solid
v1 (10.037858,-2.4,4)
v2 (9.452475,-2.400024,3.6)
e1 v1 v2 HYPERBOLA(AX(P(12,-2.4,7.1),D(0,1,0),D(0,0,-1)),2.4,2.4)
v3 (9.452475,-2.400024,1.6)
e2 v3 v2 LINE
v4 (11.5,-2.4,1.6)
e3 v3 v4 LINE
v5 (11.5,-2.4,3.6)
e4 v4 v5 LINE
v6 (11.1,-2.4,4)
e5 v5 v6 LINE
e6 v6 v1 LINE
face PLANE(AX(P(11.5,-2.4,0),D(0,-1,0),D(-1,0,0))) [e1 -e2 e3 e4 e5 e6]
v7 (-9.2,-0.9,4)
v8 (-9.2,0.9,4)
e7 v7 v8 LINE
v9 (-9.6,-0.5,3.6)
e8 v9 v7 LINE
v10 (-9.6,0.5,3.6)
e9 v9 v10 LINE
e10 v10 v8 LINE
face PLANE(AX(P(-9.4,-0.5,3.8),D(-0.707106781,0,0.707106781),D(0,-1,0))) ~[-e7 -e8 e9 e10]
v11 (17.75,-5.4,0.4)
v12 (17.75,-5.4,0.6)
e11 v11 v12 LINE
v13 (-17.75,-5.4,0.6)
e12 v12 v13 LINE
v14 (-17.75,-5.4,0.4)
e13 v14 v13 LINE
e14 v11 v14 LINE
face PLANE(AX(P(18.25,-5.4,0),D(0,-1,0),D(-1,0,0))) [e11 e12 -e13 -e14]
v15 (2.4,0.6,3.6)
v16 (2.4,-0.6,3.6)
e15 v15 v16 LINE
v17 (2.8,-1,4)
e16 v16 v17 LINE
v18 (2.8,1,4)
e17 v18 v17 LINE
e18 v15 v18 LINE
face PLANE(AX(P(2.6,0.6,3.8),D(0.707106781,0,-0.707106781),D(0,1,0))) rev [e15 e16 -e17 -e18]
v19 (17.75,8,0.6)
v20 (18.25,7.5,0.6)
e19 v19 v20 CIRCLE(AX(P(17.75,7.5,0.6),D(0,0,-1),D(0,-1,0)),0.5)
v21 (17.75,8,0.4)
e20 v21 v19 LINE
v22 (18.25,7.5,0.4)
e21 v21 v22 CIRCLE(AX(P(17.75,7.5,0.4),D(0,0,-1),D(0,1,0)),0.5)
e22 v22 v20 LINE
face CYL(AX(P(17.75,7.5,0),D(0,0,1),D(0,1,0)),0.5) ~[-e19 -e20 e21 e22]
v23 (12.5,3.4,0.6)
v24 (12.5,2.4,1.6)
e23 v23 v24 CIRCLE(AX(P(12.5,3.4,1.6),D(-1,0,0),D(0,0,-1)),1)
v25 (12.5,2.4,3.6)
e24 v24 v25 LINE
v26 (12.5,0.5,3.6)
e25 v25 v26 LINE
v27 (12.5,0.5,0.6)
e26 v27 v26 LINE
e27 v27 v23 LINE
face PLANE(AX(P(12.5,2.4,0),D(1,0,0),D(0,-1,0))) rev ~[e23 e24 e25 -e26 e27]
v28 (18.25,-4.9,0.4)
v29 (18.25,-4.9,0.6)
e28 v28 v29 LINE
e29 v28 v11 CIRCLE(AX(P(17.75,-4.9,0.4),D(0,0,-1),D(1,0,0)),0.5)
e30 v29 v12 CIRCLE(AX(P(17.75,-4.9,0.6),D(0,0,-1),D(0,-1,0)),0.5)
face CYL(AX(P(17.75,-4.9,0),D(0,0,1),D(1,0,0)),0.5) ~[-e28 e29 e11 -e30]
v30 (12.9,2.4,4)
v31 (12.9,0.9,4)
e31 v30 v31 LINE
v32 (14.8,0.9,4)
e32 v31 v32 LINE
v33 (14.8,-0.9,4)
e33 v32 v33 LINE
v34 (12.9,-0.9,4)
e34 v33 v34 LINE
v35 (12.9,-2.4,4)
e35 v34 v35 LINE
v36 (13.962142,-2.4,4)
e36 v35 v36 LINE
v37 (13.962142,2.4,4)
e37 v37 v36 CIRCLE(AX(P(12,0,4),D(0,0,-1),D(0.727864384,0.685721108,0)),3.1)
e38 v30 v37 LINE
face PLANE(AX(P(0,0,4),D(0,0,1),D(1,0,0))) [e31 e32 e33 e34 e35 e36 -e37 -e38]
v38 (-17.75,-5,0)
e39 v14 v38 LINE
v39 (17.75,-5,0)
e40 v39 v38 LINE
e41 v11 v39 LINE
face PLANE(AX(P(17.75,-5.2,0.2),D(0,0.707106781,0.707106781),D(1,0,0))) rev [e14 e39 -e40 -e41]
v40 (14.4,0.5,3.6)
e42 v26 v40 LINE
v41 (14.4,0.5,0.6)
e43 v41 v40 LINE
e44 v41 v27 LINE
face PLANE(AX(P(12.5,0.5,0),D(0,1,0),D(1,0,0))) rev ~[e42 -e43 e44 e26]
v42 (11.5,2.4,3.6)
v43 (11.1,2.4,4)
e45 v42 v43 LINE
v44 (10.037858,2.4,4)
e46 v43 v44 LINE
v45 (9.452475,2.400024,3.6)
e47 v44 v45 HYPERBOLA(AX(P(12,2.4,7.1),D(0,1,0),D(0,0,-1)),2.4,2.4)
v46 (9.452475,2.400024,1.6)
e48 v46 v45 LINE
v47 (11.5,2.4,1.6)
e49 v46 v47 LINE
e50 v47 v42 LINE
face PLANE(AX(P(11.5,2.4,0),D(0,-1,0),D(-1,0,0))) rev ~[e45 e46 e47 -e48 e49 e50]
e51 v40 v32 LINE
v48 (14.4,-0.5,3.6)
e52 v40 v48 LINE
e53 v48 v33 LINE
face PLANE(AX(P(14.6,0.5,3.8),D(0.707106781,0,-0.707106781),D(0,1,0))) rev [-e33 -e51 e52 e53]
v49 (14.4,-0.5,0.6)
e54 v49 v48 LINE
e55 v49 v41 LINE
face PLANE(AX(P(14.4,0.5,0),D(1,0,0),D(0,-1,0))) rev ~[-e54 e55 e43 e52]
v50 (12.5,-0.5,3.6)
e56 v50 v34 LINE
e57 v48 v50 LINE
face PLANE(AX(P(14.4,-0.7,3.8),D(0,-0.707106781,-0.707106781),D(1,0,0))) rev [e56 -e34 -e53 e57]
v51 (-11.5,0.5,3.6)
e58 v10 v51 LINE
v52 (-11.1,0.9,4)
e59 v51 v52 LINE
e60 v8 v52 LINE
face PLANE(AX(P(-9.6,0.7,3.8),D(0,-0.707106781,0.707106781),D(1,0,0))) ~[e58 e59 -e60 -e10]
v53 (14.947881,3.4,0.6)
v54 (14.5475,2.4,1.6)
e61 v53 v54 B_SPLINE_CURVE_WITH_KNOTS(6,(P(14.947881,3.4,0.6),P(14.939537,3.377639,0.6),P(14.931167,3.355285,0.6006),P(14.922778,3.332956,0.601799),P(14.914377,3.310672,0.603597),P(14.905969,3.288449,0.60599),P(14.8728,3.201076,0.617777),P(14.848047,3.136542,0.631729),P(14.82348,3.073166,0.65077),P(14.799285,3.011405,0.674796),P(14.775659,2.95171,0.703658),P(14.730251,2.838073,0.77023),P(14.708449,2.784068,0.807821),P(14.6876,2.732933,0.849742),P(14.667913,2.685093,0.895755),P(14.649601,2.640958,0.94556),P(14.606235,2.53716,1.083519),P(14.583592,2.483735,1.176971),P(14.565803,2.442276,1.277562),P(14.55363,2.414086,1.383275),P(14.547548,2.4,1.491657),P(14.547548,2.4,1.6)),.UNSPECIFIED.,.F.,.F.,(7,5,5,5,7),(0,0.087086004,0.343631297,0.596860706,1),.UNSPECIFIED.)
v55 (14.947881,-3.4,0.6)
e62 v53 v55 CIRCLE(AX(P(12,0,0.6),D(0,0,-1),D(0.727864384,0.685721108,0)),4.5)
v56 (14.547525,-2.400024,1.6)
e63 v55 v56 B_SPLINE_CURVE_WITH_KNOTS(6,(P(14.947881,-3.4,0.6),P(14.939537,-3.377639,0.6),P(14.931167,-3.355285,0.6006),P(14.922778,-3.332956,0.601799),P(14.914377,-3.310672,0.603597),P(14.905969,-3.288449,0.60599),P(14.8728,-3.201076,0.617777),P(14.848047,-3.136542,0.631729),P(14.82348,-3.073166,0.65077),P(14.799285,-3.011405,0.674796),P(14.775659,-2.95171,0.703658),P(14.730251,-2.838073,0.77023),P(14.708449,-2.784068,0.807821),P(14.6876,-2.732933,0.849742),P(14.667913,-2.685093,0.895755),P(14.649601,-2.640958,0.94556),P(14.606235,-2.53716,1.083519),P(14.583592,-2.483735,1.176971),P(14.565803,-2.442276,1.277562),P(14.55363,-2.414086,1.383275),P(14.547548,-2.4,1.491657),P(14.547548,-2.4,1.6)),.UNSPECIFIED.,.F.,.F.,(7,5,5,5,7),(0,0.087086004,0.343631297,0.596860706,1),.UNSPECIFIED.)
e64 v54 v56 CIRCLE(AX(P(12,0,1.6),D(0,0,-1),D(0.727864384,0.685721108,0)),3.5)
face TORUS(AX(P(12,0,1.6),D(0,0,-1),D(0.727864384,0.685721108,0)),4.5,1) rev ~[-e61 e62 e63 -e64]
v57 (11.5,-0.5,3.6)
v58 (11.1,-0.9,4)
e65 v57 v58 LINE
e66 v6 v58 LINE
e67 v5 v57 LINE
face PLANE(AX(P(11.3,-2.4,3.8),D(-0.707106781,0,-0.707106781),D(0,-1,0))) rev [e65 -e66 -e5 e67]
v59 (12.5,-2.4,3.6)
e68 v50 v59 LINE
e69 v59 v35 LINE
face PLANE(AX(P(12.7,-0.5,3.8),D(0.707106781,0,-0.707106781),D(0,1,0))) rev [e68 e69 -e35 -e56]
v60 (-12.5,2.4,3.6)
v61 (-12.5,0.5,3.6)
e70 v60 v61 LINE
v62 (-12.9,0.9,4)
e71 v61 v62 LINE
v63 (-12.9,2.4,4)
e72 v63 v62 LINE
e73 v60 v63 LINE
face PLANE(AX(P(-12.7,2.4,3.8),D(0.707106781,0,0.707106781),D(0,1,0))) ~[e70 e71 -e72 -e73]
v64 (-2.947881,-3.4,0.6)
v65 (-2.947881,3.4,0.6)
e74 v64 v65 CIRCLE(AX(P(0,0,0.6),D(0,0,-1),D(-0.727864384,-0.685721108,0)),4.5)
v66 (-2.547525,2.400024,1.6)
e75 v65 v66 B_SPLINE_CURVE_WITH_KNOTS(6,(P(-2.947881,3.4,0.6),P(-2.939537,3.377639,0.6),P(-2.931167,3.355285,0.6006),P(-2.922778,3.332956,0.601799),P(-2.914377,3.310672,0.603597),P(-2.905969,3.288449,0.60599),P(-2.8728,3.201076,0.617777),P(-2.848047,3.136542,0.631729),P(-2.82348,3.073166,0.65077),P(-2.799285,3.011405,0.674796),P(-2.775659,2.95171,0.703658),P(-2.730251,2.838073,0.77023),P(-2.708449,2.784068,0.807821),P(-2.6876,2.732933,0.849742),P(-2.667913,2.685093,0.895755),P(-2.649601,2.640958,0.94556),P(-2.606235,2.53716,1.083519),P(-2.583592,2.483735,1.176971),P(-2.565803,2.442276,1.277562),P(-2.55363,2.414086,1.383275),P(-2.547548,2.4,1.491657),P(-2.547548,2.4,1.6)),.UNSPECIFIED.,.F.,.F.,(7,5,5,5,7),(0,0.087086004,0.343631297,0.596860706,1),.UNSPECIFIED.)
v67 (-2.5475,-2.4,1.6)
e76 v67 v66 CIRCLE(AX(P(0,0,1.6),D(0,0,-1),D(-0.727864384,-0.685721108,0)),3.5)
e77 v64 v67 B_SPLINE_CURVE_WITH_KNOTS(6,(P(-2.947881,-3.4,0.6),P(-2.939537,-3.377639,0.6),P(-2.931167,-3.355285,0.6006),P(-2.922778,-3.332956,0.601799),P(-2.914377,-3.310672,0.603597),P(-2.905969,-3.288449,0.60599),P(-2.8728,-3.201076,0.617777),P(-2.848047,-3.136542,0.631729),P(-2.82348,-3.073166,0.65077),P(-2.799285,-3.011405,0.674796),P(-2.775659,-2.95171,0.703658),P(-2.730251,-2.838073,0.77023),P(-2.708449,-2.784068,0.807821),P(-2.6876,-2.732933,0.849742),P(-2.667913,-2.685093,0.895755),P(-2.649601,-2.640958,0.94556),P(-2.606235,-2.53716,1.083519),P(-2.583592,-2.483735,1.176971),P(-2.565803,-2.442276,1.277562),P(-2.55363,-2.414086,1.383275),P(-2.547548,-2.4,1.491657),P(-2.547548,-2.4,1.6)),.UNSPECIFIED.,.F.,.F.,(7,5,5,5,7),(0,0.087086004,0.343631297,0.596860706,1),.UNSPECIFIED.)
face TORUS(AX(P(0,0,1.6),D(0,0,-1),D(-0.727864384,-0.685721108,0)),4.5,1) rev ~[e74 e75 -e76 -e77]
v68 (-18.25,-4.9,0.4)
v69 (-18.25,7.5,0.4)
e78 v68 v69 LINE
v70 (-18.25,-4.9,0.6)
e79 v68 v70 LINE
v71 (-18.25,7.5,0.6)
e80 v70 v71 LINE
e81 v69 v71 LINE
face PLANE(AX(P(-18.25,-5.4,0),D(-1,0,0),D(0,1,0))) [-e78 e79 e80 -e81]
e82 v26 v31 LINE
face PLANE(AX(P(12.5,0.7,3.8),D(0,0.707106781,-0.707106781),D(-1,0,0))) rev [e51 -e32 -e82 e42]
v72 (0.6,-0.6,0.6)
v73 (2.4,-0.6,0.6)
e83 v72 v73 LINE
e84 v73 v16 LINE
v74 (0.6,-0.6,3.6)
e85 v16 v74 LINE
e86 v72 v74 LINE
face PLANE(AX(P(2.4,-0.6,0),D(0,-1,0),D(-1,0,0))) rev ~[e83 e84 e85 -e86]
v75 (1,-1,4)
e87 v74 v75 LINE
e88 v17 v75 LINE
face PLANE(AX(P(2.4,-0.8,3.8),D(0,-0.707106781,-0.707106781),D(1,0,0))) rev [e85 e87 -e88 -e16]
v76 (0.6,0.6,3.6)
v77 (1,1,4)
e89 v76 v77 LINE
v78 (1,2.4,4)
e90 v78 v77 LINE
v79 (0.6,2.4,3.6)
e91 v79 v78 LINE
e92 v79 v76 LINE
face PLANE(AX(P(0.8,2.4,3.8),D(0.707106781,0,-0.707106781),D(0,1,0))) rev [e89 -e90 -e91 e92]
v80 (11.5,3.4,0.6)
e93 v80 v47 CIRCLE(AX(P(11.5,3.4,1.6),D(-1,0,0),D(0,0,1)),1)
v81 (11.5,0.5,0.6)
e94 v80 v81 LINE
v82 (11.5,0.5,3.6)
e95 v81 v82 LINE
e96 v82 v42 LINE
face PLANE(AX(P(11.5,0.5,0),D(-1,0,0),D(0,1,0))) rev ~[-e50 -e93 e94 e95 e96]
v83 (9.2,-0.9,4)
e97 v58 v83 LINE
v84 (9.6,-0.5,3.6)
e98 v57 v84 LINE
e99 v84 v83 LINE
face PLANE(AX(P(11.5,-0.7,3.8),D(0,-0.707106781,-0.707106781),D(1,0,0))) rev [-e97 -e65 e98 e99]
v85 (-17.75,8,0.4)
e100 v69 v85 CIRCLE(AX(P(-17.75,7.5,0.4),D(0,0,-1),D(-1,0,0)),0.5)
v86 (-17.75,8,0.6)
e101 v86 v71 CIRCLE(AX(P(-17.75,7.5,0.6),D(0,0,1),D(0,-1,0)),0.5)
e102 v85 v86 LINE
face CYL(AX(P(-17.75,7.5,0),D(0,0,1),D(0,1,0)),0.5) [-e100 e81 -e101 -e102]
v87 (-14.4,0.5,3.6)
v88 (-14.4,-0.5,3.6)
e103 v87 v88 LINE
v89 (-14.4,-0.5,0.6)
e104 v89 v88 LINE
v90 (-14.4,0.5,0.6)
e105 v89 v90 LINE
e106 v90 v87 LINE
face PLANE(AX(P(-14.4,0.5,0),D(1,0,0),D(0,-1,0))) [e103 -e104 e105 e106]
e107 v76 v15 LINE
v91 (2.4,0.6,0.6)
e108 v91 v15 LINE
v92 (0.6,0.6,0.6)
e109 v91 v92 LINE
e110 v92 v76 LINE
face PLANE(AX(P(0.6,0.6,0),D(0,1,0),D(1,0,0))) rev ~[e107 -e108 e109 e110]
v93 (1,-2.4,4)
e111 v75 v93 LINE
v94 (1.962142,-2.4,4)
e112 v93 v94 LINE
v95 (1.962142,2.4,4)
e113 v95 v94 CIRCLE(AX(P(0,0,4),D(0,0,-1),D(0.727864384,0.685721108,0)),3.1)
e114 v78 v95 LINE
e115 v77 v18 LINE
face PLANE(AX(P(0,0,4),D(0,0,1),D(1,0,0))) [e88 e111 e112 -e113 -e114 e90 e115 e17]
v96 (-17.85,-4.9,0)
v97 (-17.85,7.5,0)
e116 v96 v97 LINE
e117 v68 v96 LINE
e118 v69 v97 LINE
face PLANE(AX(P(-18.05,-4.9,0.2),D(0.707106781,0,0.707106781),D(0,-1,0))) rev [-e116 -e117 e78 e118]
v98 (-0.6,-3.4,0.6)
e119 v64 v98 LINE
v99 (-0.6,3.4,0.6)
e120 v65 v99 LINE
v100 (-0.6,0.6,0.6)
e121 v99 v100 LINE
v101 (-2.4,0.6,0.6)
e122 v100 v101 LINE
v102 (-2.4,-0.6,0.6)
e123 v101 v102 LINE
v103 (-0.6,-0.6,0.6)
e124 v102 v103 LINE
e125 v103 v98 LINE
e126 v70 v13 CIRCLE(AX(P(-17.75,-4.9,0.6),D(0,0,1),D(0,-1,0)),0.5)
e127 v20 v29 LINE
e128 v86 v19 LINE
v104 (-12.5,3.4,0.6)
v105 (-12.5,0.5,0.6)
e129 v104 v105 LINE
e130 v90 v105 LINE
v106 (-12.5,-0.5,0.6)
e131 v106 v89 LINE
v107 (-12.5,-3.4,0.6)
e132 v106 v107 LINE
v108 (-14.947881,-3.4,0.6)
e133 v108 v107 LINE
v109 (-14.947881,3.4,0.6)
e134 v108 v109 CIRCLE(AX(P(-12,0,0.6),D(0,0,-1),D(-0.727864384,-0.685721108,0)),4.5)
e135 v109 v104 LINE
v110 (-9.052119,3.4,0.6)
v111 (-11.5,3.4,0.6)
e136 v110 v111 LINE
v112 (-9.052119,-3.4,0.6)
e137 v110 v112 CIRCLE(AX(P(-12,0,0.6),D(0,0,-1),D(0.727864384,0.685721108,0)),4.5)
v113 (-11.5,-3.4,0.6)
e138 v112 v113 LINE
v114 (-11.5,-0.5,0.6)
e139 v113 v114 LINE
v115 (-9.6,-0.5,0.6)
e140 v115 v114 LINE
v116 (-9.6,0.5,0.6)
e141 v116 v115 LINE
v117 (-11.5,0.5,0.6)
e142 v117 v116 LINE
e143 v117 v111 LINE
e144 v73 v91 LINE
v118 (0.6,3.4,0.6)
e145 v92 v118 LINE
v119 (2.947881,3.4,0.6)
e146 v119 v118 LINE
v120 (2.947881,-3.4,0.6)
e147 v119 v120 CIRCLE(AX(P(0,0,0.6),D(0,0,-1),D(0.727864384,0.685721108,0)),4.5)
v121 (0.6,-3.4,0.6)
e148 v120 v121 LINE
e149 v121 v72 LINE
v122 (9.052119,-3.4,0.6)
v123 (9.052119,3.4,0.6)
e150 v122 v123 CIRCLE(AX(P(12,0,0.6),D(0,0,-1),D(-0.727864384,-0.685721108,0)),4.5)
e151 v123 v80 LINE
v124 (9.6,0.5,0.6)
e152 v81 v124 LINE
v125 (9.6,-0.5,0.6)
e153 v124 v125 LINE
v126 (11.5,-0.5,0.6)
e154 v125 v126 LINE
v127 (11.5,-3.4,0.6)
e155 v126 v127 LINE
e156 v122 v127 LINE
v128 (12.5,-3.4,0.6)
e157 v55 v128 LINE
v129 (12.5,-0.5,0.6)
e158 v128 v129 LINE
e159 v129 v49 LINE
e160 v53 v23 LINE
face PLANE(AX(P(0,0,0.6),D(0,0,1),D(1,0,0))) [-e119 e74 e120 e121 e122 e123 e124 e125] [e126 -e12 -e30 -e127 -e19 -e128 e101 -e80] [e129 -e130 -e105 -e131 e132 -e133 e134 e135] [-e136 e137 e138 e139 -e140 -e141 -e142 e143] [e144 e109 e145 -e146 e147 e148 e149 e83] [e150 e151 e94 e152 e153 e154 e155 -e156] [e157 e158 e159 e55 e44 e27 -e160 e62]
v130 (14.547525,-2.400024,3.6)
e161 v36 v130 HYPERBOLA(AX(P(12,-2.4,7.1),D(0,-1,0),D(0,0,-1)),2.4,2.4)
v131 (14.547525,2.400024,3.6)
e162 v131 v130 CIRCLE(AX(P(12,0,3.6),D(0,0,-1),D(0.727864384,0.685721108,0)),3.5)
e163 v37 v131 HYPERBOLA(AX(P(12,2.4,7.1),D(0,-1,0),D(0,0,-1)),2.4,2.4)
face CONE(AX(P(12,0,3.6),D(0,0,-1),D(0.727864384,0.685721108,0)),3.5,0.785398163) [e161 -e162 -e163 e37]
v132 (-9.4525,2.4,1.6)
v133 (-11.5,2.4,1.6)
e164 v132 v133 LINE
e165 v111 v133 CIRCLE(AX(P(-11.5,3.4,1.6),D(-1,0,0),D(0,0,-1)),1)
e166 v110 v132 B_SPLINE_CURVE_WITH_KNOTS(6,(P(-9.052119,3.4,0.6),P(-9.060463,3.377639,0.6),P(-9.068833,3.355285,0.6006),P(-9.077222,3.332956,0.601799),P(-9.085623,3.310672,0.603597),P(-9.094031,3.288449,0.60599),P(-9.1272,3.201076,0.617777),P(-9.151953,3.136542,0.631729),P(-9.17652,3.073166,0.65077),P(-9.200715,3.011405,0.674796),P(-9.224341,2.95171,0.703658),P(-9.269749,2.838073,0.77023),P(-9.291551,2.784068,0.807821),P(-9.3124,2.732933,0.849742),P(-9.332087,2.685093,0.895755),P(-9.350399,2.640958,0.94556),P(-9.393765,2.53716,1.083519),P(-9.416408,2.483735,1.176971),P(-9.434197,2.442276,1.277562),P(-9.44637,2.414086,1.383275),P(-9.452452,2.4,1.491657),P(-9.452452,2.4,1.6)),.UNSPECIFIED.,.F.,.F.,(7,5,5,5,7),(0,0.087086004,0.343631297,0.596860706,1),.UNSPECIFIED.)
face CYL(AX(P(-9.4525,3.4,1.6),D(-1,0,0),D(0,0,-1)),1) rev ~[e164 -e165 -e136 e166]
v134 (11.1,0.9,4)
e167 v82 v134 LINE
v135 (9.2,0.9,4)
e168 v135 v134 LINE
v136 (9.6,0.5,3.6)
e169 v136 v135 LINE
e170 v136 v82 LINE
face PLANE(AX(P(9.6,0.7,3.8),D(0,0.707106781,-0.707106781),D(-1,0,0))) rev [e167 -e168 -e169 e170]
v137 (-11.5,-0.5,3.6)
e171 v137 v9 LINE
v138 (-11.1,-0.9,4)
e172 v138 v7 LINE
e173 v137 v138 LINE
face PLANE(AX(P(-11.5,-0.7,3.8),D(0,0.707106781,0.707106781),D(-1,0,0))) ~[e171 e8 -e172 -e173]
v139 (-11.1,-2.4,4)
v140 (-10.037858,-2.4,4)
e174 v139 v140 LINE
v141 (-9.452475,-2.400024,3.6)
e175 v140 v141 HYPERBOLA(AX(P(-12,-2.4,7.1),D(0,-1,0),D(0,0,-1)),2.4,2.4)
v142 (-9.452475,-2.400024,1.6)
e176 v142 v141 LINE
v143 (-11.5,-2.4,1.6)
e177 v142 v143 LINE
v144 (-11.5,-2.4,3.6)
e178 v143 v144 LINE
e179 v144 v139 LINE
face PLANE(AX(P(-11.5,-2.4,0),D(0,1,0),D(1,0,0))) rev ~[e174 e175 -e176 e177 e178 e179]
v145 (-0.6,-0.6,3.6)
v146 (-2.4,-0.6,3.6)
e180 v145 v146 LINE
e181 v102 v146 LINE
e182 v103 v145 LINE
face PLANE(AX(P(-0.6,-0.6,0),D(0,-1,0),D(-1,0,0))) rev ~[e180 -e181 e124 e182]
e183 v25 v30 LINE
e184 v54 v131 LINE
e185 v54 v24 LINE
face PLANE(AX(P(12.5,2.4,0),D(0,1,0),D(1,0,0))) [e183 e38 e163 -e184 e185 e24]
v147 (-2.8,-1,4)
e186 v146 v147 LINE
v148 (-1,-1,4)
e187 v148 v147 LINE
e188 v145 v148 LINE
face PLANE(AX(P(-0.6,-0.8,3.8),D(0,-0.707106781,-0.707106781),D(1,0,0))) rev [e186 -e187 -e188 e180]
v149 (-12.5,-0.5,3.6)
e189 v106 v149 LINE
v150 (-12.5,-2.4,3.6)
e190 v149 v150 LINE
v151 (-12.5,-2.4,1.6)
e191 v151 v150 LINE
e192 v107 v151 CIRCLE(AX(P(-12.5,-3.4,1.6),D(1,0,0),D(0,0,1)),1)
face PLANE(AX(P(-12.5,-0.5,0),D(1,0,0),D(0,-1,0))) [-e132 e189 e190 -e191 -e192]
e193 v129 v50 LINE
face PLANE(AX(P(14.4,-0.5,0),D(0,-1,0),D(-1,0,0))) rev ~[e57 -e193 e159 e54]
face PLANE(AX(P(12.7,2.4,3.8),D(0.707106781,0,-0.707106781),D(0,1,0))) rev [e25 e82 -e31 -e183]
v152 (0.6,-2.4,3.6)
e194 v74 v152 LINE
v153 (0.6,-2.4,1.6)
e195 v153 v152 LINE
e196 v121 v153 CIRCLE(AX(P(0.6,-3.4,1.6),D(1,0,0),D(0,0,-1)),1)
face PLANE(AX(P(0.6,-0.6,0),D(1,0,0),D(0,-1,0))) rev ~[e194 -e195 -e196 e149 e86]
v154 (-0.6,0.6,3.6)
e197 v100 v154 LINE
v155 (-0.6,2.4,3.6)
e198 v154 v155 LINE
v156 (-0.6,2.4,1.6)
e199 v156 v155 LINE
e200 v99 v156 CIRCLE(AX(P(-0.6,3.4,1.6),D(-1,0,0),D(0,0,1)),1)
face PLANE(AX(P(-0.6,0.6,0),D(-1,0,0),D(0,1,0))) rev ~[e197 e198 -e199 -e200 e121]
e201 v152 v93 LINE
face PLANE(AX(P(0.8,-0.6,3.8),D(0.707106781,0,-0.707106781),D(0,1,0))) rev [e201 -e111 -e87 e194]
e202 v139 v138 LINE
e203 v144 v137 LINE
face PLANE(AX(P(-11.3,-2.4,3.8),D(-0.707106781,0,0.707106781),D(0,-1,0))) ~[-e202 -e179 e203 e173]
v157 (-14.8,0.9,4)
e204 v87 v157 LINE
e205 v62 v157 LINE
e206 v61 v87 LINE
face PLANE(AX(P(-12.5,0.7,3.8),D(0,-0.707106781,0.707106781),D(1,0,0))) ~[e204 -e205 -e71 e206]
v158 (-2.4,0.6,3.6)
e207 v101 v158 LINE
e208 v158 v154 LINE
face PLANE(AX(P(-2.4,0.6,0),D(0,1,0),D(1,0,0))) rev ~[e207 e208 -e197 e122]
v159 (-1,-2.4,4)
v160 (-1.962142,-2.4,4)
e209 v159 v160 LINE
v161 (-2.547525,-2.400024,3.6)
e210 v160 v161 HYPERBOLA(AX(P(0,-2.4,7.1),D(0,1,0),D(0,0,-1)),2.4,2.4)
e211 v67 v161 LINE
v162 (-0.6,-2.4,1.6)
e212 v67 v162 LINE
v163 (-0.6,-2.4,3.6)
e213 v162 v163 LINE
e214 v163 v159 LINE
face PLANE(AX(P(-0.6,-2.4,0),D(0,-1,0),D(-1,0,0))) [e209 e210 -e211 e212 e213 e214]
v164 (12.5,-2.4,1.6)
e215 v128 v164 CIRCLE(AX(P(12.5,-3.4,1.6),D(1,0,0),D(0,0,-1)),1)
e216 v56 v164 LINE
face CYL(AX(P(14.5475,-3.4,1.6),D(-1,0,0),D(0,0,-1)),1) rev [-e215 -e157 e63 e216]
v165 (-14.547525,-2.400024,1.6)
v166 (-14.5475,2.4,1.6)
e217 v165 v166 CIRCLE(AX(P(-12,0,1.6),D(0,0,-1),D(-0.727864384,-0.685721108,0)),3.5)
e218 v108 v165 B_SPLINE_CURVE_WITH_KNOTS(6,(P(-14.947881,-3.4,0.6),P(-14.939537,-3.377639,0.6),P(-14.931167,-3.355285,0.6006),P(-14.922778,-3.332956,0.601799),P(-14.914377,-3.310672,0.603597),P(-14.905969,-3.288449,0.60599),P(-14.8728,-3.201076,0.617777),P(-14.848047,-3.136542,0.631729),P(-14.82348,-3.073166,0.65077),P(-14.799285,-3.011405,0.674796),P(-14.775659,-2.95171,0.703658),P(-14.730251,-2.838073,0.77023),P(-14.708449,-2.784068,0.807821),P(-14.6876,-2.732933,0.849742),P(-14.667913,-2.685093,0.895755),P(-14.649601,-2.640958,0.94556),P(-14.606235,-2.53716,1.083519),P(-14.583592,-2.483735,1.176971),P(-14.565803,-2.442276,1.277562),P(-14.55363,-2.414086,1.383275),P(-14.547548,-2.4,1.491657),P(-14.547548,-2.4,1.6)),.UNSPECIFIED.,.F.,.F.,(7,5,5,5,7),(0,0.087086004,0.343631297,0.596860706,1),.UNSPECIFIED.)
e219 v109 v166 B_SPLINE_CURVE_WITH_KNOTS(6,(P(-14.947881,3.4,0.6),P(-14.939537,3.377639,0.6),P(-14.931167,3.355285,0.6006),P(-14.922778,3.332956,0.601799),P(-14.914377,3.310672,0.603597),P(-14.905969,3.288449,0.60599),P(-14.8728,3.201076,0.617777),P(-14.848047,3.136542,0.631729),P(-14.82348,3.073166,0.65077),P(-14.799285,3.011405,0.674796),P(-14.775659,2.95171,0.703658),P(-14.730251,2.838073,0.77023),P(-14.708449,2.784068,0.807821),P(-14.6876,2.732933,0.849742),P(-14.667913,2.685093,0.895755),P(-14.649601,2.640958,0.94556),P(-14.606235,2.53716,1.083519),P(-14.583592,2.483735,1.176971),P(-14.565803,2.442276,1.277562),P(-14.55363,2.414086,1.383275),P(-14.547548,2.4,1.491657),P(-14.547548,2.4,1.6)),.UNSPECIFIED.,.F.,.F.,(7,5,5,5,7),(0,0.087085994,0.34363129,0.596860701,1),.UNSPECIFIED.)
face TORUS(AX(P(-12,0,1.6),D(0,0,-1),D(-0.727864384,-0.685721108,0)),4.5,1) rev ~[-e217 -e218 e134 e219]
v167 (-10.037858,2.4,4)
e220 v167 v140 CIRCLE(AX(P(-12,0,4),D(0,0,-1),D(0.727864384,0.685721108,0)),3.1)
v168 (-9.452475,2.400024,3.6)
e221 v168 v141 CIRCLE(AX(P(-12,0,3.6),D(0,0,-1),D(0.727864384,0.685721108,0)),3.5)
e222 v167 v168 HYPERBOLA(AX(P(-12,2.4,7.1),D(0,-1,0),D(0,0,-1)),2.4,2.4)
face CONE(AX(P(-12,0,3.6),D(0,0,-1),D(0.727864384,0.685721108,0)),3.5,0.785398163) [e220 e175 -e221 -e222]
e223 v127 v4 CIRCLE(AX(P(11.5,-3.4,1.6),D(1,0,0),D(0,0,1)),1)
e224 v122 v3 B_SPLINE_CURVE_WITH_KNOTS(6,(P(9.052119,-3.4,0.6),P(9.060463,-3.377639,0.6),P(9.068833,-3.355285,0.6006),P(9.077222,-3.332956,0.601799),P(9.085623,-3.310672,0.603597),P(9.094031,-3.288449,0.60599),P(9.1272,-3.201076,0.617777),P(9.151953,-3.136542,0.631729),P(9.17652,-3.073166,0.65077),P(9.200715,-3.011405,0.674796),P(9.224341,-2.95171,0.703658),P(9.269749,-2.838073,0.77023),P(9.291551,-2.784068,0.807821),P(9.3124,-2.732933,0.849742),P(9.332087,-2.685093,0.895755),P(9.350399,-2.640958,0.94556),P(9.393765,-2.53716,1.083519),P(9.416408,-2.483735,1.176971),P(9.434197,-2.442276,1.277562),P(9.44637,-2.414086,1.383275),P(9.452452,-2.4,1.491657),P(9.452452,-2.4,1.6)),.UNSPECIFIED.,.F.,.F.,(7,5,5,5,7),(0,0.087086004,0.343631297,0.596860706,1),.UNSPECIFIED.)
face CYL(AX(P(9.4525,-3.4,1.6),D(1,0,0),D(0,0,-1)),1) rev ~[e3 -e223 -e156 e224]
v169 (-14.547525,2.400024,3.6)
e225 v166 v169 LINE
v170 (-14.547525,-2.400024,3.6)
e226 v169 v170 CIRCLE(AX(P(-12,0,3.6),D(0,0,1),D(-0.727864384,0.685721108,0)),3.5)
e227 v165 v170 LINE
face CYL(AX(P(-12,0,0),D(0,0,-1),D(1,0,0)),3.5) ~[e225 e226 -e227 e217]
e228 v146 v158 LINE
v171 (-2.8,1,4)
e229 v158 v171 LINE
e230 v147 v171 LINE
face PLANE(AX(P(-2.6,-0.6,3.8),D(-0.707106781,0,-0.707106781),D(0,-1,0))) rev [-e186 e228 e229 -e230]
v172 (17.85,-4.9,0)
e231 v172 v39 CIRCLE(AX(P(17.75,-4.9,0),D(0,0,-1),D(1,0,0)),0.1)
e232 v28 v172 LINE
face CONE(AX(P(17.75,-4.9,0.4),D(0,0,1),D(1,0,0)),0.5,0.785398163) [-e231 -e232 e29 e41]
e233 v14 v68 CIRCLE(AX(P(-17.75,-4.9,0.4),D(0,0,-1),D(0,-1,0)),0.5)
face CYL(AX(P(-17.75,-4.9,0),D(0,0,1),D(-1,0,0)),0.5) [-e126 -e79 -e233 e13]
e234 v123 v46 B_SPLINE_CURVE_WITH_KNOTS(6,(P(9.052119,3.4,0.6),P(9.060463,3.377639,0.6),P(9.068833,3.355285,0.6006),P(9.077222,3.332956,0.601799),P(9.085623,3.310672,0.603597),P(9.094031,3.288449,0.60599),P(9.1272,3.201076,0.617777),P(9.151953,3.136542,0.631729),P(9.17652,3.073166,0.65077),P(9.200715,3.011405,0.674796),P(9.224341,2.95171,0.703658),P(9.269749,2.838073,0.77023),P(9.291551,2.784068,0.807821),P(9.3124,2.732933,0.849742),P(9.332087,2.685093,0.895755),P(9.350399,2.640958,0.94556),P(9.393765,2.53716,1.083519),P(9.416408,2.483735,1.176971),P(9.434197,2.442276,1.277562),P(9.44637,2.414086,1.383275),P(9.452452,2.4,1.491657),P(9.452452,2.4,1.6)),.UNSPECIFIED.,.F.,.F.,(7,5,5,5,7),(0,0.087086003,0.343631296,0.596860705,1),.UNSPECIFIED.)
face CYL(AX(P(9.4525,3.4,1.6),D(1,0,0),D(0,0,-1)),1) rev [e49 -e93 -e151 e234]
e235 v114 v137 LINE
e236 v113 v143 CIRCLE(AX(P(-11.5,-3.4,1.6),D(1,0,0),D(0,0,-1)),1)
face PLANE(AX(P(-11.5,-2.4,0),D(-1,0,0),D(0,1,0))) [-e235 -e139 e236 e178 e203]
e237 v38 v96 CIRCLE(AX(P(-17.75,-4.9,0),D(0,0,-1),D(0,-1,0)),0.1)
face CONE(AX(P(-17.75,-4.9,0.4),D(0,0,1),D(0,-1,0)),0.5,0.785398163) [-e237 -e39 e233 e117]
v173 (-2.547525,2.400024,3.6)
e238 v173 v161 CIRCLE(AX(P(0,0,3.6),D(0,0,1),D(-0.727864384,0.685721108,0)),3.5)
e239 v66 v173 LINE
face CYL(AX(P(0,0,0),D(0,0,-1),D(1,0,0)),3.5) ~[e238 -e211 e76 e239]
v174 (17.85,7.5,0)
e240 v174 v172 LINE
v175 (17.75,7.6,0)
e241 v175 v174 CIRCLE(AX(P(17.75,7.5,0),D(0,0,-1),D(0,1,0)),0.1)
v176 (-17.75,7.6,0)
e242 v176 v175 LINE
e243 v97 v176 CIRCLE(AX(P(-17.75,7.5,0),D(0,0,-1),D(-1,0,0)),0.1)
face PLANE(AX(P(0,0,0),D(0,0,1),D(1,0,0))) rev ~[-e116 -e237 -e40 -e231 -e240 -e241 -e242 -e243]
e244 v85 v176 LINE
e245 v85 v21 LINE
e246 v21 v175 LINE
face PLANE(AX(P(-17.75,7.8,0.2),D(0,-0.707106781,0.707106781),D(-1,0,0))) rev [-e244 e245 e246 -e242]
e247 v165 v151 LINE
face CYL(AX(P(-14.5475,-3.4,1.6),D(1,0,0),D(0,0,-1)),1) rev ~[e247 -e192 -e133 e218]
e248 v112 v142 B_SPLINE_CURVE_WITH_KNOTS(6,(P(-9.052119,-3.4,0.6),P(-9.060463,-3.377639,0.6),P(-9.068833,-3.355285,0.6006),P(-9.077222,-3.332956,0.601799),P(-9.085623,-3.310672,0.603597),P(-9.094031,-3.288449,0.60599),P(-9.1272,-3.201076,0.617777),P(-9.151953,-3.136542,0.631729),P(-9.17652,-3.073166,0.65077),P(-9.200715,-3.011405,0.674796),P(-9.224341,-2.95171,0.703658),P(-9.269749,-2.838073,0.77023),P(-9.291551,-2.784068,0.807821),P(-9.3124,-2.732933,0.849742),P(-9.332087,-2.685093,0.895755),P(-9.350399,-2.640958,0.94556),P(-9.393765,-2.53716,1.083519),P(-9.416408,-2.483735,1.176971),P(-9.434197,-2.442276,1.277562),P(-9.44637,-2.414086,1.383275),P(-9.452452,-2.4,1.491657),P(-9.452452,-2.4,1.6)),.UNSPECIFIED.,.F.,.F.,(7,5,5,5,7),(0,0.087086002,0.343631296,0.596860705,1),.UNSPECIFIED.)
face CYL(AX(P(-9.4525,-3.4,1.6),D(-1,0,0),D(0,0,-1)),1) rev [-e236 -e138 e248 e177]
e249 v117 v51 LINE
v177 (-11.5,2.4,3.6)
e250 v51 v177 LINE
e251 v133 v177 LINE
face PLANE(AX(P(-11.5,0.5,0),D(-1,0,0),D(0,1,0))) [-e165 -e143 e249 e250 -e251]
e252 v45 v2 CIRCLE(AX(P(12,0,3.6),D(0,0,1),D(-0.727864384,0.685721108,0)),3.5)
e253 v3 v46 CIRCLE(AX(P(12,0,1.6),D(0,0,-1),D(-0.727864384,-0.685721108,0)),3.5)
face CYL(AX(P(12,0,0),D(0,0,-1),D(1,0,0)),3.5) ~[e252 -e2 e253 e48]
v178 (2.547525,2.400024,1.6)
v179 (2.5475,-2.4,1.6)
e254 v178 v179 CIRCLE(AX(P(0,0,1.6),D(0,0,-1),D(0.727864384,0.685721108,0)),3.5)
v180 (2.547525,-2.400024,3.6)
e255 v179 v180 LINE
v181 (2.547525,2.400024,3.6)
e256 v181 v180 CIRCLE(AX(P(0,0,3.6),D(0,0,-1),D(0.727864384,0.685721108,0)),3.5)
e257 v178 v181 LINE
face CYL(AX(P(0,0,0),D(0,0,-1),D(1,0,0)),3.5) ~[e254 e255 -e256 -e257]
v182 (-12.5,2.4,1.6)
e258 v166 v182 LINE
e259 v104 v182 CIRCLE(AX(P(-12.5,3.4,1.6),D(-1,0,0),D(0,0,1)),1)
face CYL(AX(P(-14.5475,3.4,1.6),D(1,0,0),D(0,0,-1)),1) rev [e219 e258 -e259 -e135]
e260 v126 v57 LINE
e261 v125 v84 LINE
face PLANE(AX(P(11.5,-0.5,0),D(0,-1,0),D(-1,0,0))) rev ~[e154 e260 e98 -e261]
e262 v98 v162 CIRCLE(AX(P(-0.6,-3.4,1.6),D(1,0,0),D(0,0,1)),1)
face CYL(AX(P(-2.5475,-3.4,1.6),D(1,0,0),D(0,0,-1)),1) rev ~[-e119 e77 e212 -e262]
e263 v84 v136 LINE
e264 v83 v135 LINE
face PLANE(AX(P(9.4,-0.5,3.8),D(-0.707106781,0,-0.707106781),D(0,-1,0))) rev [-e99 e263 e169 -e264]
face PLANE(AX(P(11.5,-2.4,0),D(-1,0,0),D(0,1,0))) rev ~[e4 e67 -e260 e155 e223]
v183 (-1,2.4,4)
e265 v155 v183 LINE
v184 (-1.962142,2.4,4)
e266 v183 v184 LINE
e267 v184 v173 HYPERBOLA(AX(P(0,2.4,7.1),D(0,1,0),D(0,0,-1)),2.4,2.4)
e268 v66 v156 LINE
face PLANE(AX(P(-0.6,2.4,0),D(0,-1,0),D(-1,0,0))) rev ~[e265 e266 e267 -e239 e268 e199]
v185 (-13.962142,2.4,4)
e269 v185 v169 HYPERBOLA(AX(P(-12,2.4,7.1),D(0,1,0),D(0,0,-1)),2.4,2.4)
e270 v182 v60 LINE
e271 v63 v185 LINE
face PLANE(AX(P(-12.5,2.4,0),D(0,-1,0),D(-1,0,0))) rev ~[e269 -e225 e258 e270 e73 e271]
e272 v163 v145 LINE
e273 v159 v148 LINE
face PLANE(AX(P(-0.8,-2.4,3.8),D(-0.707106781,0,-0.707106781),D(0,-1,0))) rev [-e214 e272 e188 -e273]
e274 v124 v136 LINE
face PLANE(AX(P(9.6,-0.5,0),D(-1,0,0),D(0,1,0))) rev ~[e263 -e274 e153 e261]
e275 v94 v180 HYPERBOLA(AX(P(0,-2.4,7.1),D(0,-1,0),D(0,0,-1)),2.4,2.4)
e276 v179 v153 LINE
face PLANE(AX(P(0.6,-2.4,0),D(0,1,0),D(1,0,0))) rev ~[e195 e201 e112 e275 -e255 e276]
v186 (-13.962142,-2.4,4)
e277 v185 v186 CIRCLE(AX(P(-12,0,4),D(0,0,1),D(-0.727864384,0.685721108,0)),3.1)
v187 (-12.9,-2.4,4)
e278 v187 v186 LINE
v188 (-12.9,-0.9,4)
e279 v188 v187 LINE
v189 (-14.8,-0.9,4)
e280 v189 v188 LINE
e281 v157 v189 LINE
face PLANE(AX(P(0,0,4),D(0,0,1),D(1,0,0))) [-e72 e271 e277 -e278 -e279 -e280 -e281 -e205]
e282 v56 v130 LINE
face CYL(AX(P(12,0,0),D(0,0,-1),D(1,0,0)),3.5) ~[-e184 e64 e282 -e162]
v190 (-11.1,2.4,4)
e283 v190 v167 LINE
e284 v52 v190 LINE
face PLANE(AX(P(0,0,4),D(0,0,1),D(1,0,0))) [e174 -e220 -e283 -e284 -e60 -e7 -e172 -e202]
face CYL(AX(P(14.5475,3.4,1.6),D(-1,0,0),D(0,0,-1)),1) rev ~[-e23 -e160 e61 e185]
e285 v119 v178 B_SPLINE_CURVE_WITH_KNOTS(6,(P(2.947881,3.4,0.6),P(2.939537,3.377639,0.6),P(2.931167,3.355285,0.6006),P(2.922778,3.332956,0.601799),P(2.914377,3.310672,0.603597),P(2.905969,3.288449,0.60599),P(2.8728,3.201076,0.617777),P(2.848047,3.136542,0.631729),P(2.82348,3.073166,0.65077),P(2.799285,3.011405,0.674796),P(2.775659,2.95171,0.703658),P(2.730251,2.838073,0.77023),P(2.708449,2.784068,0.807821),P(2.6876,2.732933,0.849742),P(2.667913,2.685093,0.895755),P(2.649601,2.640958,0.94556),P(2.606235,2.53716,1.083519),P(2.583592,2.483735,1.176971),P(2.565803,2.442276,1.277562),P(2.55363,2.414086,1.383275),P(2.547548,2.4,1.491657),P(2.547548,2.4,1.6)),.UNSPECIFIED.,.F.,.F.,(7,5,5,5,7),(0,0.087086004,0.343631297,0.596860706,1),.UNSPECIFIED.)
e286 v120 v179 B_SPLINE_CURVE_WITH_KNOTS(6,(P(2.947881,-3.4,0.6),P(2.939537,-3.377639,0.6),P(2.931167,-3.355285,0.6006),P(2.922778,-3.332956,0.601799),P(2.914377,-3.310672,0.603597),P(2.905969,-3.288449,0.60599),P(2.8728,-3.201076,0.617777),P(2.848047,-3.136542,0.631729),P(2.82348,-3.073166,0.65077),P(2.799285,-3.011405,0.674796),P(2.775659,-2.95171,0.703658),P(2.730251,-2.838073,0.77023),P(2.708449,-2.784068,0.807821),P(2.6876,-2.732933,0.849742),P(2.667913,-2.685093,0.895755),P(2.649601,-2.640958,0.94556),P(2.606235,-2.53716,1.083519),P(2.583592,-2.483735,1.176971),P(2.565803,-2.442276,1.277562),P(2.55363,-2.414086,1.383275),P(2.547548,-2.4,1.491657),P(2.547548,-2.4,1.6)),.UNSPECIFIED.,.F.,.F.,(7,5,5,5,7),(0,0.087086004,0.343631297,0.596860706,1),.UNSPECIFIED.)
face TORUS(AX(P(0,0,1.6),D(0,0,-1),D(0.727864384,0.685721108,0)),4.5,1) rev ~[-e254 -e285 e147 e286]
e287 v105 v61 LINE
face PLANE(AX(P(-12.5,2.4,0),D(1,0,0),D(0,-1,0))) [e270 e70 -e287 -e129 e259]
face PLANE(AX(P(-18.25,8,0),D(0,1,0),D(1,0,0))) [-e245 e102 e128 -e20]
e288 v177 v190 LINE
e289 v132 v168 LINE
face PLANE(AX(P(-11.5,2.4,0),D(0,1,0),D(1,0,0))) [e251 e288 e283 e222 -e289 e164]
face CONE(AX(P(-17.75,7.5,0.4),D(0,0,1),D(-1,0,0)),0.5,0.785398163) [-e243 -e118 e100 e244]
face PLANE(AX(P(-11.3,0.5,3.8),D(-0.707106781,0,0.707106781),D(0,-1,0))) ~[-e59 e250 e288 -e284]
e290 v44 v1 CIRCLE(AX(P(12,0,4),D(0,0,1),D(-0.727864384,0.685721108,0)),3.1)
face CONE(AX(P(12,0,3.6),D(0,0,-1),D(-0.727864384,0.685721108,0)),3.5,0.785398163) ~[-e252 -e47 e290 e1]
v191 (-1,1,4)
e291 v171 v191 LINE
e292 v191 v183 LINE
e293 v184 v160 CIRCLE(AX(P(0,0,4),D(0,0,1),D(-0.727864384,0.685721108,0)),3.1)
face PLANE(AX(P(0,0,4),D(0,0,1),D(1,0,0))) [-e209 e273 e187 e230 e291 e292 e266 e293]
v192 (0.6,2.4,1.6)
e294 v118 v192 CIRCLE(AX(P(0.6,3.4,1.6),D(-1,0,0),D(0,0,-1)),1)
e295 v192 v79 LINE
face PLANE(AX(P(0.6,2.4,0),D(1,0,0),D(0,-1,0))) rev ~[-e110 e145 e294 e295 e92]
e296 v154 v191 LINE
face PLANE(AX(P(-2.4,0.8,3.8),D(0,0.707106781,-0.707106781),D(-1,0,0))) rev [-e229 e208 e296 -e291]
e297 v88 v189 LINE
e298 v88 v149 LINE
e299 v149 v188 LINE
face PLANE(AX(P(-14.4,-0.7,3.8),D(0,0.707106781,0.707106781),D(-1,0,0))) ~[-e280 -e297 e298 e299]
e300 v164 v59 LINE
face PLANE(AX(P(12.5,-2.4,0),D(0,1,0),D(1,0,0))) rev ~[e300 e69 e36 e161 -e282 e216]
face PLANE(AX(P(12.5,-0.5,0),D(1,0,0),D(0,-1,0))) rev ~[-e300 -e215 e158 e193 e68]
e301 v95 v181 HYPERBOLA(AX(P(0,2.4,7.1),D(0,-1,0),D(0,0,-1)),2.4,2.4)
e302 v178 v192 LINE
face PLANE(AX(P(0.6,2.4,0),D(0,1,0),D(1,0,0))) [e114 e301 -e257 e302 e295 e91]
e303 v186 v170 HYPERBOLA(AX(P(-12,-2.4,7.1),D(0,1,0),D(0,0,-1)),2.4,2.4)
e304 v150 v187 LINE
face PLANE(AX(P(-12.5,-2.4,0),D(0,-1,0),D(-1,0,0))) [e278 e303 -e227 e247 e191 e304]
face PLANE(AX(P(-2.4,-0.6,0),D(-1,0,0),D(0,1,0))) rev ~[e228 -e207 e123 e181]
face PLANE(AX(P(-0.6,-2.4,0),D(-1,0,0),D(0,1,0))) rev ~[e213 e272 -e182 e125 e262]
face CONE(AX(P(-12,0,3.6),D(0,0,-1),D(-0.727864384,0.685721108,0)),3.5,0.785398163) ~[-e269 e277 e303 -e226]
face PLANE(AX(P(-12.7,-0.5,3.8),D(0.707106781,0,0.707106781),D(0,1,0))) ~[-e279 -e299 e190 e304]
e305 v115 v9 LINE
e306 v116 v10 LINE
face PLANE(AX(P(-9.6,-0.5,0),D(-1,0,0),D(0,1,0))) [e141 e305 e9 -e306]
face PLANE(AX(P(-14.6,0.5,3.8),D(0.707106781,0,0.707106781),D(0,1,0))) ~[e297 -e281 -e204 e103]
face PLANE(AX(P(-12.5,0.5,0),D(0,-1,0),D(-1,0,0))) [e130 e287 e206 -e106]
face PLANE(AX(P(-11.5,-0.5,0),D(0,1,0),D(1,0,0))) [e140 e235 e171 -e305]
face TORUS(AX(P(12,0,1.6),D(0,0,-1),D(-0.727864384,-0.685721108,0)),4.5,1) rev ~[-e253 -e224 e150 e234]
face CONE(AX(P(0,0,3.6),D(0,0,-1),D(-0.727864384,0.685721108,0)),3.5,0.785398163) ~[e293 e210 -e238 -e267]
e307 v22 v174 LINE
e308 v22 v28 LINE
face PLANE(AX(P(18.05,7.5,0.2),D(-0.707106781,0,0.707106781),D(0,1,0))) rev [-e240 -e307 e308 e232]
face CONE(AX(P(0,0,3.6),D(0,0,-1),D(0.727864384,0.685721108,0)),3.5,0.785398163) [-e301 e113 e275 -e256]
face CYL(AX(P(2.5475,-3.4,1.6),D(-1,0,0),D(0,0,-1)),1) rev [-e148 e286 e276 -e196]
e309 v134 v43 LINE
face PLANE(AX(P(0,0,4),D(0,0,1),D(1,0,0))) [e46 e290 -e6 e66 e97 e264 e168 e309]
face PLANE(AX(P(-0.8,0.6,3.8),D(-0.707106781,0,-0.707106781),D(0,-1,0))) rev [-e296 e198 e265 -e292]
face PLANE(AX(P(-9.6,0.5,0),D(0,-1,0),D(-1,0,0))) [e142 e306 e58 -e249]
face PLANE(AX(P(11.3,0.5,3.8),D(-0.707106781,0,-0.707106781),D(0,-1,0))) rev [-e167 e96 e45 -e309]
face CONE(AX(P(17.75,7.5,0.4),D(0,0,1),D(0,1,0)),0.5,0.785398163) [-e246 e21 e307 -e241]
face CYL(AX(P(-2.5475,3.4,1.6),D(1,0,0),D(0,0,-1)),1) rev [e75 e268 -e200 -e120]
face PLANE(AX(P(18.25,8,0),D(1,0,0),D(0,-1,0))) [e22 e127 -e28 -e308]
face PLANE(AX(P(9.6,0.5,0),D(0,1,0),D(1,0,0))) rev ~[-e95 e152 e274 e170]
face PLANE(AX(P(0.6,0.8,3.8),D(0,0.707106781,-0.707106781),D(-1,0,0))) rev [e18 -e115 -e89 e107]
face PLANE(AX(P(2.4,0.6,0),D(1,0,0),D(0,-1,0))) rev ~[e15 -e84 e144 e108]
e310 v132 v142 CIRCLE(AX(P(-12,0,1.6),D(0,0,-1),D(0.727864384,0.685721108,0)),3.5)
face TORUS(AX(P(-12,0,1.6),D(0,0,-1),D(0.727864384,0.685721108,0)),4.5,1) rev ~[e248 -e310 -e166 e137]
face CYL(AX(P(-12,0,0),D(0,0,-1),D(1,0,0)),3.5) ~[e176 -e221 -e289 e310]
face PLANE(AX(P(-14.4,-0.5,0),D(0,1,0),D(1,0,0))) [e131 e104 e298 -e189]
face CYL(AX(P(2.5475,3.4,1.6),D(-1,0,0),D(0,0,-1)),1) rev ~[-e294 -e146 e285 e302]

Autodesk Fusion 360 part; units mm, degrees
sketch "Sketch1" plane through (0, 0, 0) normal (0, 0, 1) x (1, 0, 0)
  line L0 (20.85, 9) -> (-20.85, 9) construction
  line L1 (-20.85, 9) -> (-20.85, -9) construction
  line L2 (-20.85, -9) -> (20.85, -9) construction
  line L3 (20.85, -9) -> (20.85, 9) construction
  line L4 (20.85, 9) -> (-20.85, -9) construction
  line L5 (-20.85, 9) -> (20.85, -9) construction
  line L6 (-18.25, 8) -> (18.25, 8)
  line L7 (18.25, 8) -> (18.25, -5.4)
  line L8 (18.25, -5.4) -> (-18.25, -5.4)
  line L9 (-18.25, -5.4) -> (-18.25, 8)
  circle A0 centre (0, 0) radius 3.5
  line L10 (2.4, -0.6) -> (-2.4, -0.6)
  line L11 (-2.4, -0.6) -> (-2.4, 0.6)
  line L12 (-2.4, 0.6) -> (2.4, 0.6)
  line L13 (2.4, 0.6) -> (2.4, -0.6)
  line L14 (2.4, -0.6) -> (-2.4, 0.6) construction
  line L15 (-2.4, -0.6) -> (2.4, 0.6) construction
  line L16 (0.6, -2.4) -> (-0.6, -2.4)
  line L17 (-0.6, -2.4) -> (-0.6, 2.4)
  line L18 (-0.6, 2.4) -> (0.6, 2.4)
  line L19 (0.6, 2.4) -> (0.6, -2.4)
  line L20 (0.6, -2.4) -> (-0.6, 2.4) construction
  line L21 (-0.6, -2.4) -> (0.6, 2.4) construction
  line L22 (-0.6, 2.4) -> (-2.5475, 2.4)
  line L23 (0.6, 2.4) -> (2.5475, 2.4)
  line L24 (-0.6, -2.4) -> (-2.5475, -2.4)
  line L25 (0.6, -2.4) -> (2.5475, -2.4)
  line L26 (0, 0) -> (0, 6.2895) construction
  line L27 (0, 0) -> (12, 0) construction
  circle A1 centre (12, 0) radius 3.5
  line L28 (14.4, -0.5) -> (9.6, -0.5)
  line L29 (9.6, -0.5) -> (9.6, 0.5)
  line L30 (9.6, 0.5) -> (14.4, 0.5)
  line L31 (14.4, 0.5) -> (14.4, -0.5)
  line L32 (14.4, -0.5) -> (9.6, 0.5) construction
  line L33 (9.6, -0.5) -> (14.4, 0.5) construction
  line L34 (12.5, -2.4) -> (11.5, -2.4)
  line L35 (11.5, -2.4) -> (11.5, 2.4)
  line L36 (11.5, 2.4) -> (12.5, 2.4)
  line L37 (12.5, 2.4) -> (12.5, -2.4)
  line L38 (12.5, -2.4) -> (11.5, 2.4) construction
  line L39 (11.5, -2.4) -> (12.5, 2.4) construction
  line L40 (11.5, 2.4) -> (9.4525, 2.4)
  line L41 (12.5, 2.4) -> (14.5475, 2.4)
  line L42 (11.5, -2.4) -> (9.4525, -2.4)
  line L43 (12.5, -2.4) -> (14.5475, -2.4)
  circle A2 centre (-12, 0) radius 3.5
  line L44 (-11.5, 2.4) -> (-9.4525, 2.4)
  line L45 (-11.5, 2.4) -> (-12.5, 2.4)
  line L46 (-12.5, 2.4) -> (-14.5475, 2.4)
  line L47 (-11.5, -2.4) -> (-9.4525, -2.4)
  line L48 (-12.5, -2.4) -> (-11.5, -2.4)
  line L49 (-12.5, -2.4) -> (-14.5475, -2.4)
  line L50 (-11.5, -2.4) -> (-11.5, 2.4)
  line L51 (-12.5, 2.4) -> (-12.5, -2.4)
  line L52 (-14.4, -0.5) -> (-9.6, -0.5)
  line L53 (-9.6, 0.5) -> (-14.4, 0.5)
  line L54 (-14.4, 0.5) -> (-14.4, -0.5)
  line L55 (-9.6, -0.5) -> (-9.6, 0.5)
  point P0 (12, 0)
  point P1 (12, 0)
  dimension "d1" = 41.7
  dimension "d2" = 18
  dimension "d3" = 3.6
  dimension "d4" = 1
  dimension "d5" = 2.6
  dimension "d6" = 2.6
  dimension "d7" = 7
  dimension "d8" = 4.8
  dimension "d9" = 1.2
  dimension "d10" = 1.2
  dimension "d11" = 4.8
  dimension "d19" = 12
  dimension "d20" = 7
  dimension "d21" = 4.8
  dimension "d22" = 1
  dimension "d23" = 4.8
  dimension "d24" = 1
extrude "Extrude1" add sketch "Sketch1" along normal blind 0.6 contours L6 L7 L8 L9 | A0 L10 L12 L13 L19 L23 L25 | A0 L18 L22 L23 | A0 L16 L24 L25 | A0 L10 L11 L12 L17 L22 L24 | L12 L17 L18 L19 | L10 L16 L17 L19 | L10 L12 L17 L19 | L10 L12 L13 L19 | L10 L11 L12 L17 | A1 L28 L30 L31 L37 L41 L43 | A1 L36 L40 L41 | A1 L34 L42 L43 | A1 L28 L29 L30 L35 L40 L42 | L30 L35 L36 L37 | L28 L34 L35 L37 | L28 L30 L35 L37 | L28 L30 L31 L37 | L28 L29 L30 L35 | A2 L44 L47 L50 L52 L53 L55 | A2 L44 L45 L46 | A2 L47 L48 L49 | A2 L46 L49 L51 L52 L53 L54 | L45 L50 L51 L53 | L48 L50 L51 L52 | L50 L52 L53 L55 | L50 L51 L52 L53 | L51 L52 L53 L54
extrude "Extrude2" add sketch "Sketch1" along normal blind 4 contours A0 L10 L12 L13 L19 L23 L25 | A0 L10 L11 L12 L17 L22 L24 | A1 L28 L30 L31 L37 L41 L43 | A1 L28 L29 L30 L35 L40 L42 | A2 L44 L47 L50 L52 L53 L55 | A2 L46 L49 L51 L52 L53 L54
fillet "Fillet1" radius 1 18 edges at (-1.5738, -2.4, 0.6) (-3.5, 0, 0.6) (1.5738, -2.4, 0.6) (3.5, 0, 0.6) (1.5738, 2.4, 0.6) (-1.5738, 2.4, 0.6) (-10.4762, 2.4, 0.6) (-8.5, 0, 0.6) (-13.5238, 2.4, 0.6) (-15.5, 0, 0.6) (8.5, 0, 0.6) (10.4762, 2.4, 0.6) (13.5238, 2.4, 0.6) (15.5, 0, 0.6) (-13.5238, -2.4, 0.6) (-10.4762, -2.4, 0.6) (10.4762, -2.4, 0.6) (13.5238, -2.4, 0.6)
fillet "Fillet1" radius 0.5 4 edges at (18.25, 8, 0.3) (-18.25, 8, 0.3) (18.25, -5.4, 0.3) (-18.25, -5.4, 0.3)
chamfer "Chamfer1" distance 0.4 angle 45 44 edges at (0, 8, 0) (-18.1036, 7.8536, 0) (-18.25, 1.3, 0) (-18.1036, -5.2536, 0) (0, -5.4, 0) (18.1036, -5.2536, 0) (18.25, 1.3, 0) (18.1036, 7.8536, 0) (-0.6, 1.5, 4) (-1.5, 0.6, 4) (-2.4, 0, 4) (-1.5, -0.6, 4) (-0.6, -1.5, 4) (0.6, -1.5, 4) (1.5, -0.6, 4) (2.4, 0, 4) (1.5, 0.6, 4) (0.6, 1.5, 4) (3.5, 0, 4) (-3.5, 0, 4) (-12.5, -1.45, 4) (-13.45, -0.5, 4) (-14.4, 0, 4) (-13.45, 0.5, 4) (-12.5, 1.45, 4) (-11.5, 1.45, 4) (-10.55, 0.5, 4) (-9.6, 0, 4) (-10.55, -0.5, 4) (-11.5, -1.45, 4) (-8.5, 0, 4) (-15.5, 0, 4) (8.5, 0, 4) (11.5, 1.45, 4) (10.55, 0.5, 4) (9.6, 0, 4) (10.55, -0.5, 4) (11.5, -1.45, 4) (12.5, -1.45, 4) (13.45, -0.5, 4) (14.4, 0, 4) (13.45, 0.5, 4) (12.5, 1.45, 4) (15.5, 0, 4)
